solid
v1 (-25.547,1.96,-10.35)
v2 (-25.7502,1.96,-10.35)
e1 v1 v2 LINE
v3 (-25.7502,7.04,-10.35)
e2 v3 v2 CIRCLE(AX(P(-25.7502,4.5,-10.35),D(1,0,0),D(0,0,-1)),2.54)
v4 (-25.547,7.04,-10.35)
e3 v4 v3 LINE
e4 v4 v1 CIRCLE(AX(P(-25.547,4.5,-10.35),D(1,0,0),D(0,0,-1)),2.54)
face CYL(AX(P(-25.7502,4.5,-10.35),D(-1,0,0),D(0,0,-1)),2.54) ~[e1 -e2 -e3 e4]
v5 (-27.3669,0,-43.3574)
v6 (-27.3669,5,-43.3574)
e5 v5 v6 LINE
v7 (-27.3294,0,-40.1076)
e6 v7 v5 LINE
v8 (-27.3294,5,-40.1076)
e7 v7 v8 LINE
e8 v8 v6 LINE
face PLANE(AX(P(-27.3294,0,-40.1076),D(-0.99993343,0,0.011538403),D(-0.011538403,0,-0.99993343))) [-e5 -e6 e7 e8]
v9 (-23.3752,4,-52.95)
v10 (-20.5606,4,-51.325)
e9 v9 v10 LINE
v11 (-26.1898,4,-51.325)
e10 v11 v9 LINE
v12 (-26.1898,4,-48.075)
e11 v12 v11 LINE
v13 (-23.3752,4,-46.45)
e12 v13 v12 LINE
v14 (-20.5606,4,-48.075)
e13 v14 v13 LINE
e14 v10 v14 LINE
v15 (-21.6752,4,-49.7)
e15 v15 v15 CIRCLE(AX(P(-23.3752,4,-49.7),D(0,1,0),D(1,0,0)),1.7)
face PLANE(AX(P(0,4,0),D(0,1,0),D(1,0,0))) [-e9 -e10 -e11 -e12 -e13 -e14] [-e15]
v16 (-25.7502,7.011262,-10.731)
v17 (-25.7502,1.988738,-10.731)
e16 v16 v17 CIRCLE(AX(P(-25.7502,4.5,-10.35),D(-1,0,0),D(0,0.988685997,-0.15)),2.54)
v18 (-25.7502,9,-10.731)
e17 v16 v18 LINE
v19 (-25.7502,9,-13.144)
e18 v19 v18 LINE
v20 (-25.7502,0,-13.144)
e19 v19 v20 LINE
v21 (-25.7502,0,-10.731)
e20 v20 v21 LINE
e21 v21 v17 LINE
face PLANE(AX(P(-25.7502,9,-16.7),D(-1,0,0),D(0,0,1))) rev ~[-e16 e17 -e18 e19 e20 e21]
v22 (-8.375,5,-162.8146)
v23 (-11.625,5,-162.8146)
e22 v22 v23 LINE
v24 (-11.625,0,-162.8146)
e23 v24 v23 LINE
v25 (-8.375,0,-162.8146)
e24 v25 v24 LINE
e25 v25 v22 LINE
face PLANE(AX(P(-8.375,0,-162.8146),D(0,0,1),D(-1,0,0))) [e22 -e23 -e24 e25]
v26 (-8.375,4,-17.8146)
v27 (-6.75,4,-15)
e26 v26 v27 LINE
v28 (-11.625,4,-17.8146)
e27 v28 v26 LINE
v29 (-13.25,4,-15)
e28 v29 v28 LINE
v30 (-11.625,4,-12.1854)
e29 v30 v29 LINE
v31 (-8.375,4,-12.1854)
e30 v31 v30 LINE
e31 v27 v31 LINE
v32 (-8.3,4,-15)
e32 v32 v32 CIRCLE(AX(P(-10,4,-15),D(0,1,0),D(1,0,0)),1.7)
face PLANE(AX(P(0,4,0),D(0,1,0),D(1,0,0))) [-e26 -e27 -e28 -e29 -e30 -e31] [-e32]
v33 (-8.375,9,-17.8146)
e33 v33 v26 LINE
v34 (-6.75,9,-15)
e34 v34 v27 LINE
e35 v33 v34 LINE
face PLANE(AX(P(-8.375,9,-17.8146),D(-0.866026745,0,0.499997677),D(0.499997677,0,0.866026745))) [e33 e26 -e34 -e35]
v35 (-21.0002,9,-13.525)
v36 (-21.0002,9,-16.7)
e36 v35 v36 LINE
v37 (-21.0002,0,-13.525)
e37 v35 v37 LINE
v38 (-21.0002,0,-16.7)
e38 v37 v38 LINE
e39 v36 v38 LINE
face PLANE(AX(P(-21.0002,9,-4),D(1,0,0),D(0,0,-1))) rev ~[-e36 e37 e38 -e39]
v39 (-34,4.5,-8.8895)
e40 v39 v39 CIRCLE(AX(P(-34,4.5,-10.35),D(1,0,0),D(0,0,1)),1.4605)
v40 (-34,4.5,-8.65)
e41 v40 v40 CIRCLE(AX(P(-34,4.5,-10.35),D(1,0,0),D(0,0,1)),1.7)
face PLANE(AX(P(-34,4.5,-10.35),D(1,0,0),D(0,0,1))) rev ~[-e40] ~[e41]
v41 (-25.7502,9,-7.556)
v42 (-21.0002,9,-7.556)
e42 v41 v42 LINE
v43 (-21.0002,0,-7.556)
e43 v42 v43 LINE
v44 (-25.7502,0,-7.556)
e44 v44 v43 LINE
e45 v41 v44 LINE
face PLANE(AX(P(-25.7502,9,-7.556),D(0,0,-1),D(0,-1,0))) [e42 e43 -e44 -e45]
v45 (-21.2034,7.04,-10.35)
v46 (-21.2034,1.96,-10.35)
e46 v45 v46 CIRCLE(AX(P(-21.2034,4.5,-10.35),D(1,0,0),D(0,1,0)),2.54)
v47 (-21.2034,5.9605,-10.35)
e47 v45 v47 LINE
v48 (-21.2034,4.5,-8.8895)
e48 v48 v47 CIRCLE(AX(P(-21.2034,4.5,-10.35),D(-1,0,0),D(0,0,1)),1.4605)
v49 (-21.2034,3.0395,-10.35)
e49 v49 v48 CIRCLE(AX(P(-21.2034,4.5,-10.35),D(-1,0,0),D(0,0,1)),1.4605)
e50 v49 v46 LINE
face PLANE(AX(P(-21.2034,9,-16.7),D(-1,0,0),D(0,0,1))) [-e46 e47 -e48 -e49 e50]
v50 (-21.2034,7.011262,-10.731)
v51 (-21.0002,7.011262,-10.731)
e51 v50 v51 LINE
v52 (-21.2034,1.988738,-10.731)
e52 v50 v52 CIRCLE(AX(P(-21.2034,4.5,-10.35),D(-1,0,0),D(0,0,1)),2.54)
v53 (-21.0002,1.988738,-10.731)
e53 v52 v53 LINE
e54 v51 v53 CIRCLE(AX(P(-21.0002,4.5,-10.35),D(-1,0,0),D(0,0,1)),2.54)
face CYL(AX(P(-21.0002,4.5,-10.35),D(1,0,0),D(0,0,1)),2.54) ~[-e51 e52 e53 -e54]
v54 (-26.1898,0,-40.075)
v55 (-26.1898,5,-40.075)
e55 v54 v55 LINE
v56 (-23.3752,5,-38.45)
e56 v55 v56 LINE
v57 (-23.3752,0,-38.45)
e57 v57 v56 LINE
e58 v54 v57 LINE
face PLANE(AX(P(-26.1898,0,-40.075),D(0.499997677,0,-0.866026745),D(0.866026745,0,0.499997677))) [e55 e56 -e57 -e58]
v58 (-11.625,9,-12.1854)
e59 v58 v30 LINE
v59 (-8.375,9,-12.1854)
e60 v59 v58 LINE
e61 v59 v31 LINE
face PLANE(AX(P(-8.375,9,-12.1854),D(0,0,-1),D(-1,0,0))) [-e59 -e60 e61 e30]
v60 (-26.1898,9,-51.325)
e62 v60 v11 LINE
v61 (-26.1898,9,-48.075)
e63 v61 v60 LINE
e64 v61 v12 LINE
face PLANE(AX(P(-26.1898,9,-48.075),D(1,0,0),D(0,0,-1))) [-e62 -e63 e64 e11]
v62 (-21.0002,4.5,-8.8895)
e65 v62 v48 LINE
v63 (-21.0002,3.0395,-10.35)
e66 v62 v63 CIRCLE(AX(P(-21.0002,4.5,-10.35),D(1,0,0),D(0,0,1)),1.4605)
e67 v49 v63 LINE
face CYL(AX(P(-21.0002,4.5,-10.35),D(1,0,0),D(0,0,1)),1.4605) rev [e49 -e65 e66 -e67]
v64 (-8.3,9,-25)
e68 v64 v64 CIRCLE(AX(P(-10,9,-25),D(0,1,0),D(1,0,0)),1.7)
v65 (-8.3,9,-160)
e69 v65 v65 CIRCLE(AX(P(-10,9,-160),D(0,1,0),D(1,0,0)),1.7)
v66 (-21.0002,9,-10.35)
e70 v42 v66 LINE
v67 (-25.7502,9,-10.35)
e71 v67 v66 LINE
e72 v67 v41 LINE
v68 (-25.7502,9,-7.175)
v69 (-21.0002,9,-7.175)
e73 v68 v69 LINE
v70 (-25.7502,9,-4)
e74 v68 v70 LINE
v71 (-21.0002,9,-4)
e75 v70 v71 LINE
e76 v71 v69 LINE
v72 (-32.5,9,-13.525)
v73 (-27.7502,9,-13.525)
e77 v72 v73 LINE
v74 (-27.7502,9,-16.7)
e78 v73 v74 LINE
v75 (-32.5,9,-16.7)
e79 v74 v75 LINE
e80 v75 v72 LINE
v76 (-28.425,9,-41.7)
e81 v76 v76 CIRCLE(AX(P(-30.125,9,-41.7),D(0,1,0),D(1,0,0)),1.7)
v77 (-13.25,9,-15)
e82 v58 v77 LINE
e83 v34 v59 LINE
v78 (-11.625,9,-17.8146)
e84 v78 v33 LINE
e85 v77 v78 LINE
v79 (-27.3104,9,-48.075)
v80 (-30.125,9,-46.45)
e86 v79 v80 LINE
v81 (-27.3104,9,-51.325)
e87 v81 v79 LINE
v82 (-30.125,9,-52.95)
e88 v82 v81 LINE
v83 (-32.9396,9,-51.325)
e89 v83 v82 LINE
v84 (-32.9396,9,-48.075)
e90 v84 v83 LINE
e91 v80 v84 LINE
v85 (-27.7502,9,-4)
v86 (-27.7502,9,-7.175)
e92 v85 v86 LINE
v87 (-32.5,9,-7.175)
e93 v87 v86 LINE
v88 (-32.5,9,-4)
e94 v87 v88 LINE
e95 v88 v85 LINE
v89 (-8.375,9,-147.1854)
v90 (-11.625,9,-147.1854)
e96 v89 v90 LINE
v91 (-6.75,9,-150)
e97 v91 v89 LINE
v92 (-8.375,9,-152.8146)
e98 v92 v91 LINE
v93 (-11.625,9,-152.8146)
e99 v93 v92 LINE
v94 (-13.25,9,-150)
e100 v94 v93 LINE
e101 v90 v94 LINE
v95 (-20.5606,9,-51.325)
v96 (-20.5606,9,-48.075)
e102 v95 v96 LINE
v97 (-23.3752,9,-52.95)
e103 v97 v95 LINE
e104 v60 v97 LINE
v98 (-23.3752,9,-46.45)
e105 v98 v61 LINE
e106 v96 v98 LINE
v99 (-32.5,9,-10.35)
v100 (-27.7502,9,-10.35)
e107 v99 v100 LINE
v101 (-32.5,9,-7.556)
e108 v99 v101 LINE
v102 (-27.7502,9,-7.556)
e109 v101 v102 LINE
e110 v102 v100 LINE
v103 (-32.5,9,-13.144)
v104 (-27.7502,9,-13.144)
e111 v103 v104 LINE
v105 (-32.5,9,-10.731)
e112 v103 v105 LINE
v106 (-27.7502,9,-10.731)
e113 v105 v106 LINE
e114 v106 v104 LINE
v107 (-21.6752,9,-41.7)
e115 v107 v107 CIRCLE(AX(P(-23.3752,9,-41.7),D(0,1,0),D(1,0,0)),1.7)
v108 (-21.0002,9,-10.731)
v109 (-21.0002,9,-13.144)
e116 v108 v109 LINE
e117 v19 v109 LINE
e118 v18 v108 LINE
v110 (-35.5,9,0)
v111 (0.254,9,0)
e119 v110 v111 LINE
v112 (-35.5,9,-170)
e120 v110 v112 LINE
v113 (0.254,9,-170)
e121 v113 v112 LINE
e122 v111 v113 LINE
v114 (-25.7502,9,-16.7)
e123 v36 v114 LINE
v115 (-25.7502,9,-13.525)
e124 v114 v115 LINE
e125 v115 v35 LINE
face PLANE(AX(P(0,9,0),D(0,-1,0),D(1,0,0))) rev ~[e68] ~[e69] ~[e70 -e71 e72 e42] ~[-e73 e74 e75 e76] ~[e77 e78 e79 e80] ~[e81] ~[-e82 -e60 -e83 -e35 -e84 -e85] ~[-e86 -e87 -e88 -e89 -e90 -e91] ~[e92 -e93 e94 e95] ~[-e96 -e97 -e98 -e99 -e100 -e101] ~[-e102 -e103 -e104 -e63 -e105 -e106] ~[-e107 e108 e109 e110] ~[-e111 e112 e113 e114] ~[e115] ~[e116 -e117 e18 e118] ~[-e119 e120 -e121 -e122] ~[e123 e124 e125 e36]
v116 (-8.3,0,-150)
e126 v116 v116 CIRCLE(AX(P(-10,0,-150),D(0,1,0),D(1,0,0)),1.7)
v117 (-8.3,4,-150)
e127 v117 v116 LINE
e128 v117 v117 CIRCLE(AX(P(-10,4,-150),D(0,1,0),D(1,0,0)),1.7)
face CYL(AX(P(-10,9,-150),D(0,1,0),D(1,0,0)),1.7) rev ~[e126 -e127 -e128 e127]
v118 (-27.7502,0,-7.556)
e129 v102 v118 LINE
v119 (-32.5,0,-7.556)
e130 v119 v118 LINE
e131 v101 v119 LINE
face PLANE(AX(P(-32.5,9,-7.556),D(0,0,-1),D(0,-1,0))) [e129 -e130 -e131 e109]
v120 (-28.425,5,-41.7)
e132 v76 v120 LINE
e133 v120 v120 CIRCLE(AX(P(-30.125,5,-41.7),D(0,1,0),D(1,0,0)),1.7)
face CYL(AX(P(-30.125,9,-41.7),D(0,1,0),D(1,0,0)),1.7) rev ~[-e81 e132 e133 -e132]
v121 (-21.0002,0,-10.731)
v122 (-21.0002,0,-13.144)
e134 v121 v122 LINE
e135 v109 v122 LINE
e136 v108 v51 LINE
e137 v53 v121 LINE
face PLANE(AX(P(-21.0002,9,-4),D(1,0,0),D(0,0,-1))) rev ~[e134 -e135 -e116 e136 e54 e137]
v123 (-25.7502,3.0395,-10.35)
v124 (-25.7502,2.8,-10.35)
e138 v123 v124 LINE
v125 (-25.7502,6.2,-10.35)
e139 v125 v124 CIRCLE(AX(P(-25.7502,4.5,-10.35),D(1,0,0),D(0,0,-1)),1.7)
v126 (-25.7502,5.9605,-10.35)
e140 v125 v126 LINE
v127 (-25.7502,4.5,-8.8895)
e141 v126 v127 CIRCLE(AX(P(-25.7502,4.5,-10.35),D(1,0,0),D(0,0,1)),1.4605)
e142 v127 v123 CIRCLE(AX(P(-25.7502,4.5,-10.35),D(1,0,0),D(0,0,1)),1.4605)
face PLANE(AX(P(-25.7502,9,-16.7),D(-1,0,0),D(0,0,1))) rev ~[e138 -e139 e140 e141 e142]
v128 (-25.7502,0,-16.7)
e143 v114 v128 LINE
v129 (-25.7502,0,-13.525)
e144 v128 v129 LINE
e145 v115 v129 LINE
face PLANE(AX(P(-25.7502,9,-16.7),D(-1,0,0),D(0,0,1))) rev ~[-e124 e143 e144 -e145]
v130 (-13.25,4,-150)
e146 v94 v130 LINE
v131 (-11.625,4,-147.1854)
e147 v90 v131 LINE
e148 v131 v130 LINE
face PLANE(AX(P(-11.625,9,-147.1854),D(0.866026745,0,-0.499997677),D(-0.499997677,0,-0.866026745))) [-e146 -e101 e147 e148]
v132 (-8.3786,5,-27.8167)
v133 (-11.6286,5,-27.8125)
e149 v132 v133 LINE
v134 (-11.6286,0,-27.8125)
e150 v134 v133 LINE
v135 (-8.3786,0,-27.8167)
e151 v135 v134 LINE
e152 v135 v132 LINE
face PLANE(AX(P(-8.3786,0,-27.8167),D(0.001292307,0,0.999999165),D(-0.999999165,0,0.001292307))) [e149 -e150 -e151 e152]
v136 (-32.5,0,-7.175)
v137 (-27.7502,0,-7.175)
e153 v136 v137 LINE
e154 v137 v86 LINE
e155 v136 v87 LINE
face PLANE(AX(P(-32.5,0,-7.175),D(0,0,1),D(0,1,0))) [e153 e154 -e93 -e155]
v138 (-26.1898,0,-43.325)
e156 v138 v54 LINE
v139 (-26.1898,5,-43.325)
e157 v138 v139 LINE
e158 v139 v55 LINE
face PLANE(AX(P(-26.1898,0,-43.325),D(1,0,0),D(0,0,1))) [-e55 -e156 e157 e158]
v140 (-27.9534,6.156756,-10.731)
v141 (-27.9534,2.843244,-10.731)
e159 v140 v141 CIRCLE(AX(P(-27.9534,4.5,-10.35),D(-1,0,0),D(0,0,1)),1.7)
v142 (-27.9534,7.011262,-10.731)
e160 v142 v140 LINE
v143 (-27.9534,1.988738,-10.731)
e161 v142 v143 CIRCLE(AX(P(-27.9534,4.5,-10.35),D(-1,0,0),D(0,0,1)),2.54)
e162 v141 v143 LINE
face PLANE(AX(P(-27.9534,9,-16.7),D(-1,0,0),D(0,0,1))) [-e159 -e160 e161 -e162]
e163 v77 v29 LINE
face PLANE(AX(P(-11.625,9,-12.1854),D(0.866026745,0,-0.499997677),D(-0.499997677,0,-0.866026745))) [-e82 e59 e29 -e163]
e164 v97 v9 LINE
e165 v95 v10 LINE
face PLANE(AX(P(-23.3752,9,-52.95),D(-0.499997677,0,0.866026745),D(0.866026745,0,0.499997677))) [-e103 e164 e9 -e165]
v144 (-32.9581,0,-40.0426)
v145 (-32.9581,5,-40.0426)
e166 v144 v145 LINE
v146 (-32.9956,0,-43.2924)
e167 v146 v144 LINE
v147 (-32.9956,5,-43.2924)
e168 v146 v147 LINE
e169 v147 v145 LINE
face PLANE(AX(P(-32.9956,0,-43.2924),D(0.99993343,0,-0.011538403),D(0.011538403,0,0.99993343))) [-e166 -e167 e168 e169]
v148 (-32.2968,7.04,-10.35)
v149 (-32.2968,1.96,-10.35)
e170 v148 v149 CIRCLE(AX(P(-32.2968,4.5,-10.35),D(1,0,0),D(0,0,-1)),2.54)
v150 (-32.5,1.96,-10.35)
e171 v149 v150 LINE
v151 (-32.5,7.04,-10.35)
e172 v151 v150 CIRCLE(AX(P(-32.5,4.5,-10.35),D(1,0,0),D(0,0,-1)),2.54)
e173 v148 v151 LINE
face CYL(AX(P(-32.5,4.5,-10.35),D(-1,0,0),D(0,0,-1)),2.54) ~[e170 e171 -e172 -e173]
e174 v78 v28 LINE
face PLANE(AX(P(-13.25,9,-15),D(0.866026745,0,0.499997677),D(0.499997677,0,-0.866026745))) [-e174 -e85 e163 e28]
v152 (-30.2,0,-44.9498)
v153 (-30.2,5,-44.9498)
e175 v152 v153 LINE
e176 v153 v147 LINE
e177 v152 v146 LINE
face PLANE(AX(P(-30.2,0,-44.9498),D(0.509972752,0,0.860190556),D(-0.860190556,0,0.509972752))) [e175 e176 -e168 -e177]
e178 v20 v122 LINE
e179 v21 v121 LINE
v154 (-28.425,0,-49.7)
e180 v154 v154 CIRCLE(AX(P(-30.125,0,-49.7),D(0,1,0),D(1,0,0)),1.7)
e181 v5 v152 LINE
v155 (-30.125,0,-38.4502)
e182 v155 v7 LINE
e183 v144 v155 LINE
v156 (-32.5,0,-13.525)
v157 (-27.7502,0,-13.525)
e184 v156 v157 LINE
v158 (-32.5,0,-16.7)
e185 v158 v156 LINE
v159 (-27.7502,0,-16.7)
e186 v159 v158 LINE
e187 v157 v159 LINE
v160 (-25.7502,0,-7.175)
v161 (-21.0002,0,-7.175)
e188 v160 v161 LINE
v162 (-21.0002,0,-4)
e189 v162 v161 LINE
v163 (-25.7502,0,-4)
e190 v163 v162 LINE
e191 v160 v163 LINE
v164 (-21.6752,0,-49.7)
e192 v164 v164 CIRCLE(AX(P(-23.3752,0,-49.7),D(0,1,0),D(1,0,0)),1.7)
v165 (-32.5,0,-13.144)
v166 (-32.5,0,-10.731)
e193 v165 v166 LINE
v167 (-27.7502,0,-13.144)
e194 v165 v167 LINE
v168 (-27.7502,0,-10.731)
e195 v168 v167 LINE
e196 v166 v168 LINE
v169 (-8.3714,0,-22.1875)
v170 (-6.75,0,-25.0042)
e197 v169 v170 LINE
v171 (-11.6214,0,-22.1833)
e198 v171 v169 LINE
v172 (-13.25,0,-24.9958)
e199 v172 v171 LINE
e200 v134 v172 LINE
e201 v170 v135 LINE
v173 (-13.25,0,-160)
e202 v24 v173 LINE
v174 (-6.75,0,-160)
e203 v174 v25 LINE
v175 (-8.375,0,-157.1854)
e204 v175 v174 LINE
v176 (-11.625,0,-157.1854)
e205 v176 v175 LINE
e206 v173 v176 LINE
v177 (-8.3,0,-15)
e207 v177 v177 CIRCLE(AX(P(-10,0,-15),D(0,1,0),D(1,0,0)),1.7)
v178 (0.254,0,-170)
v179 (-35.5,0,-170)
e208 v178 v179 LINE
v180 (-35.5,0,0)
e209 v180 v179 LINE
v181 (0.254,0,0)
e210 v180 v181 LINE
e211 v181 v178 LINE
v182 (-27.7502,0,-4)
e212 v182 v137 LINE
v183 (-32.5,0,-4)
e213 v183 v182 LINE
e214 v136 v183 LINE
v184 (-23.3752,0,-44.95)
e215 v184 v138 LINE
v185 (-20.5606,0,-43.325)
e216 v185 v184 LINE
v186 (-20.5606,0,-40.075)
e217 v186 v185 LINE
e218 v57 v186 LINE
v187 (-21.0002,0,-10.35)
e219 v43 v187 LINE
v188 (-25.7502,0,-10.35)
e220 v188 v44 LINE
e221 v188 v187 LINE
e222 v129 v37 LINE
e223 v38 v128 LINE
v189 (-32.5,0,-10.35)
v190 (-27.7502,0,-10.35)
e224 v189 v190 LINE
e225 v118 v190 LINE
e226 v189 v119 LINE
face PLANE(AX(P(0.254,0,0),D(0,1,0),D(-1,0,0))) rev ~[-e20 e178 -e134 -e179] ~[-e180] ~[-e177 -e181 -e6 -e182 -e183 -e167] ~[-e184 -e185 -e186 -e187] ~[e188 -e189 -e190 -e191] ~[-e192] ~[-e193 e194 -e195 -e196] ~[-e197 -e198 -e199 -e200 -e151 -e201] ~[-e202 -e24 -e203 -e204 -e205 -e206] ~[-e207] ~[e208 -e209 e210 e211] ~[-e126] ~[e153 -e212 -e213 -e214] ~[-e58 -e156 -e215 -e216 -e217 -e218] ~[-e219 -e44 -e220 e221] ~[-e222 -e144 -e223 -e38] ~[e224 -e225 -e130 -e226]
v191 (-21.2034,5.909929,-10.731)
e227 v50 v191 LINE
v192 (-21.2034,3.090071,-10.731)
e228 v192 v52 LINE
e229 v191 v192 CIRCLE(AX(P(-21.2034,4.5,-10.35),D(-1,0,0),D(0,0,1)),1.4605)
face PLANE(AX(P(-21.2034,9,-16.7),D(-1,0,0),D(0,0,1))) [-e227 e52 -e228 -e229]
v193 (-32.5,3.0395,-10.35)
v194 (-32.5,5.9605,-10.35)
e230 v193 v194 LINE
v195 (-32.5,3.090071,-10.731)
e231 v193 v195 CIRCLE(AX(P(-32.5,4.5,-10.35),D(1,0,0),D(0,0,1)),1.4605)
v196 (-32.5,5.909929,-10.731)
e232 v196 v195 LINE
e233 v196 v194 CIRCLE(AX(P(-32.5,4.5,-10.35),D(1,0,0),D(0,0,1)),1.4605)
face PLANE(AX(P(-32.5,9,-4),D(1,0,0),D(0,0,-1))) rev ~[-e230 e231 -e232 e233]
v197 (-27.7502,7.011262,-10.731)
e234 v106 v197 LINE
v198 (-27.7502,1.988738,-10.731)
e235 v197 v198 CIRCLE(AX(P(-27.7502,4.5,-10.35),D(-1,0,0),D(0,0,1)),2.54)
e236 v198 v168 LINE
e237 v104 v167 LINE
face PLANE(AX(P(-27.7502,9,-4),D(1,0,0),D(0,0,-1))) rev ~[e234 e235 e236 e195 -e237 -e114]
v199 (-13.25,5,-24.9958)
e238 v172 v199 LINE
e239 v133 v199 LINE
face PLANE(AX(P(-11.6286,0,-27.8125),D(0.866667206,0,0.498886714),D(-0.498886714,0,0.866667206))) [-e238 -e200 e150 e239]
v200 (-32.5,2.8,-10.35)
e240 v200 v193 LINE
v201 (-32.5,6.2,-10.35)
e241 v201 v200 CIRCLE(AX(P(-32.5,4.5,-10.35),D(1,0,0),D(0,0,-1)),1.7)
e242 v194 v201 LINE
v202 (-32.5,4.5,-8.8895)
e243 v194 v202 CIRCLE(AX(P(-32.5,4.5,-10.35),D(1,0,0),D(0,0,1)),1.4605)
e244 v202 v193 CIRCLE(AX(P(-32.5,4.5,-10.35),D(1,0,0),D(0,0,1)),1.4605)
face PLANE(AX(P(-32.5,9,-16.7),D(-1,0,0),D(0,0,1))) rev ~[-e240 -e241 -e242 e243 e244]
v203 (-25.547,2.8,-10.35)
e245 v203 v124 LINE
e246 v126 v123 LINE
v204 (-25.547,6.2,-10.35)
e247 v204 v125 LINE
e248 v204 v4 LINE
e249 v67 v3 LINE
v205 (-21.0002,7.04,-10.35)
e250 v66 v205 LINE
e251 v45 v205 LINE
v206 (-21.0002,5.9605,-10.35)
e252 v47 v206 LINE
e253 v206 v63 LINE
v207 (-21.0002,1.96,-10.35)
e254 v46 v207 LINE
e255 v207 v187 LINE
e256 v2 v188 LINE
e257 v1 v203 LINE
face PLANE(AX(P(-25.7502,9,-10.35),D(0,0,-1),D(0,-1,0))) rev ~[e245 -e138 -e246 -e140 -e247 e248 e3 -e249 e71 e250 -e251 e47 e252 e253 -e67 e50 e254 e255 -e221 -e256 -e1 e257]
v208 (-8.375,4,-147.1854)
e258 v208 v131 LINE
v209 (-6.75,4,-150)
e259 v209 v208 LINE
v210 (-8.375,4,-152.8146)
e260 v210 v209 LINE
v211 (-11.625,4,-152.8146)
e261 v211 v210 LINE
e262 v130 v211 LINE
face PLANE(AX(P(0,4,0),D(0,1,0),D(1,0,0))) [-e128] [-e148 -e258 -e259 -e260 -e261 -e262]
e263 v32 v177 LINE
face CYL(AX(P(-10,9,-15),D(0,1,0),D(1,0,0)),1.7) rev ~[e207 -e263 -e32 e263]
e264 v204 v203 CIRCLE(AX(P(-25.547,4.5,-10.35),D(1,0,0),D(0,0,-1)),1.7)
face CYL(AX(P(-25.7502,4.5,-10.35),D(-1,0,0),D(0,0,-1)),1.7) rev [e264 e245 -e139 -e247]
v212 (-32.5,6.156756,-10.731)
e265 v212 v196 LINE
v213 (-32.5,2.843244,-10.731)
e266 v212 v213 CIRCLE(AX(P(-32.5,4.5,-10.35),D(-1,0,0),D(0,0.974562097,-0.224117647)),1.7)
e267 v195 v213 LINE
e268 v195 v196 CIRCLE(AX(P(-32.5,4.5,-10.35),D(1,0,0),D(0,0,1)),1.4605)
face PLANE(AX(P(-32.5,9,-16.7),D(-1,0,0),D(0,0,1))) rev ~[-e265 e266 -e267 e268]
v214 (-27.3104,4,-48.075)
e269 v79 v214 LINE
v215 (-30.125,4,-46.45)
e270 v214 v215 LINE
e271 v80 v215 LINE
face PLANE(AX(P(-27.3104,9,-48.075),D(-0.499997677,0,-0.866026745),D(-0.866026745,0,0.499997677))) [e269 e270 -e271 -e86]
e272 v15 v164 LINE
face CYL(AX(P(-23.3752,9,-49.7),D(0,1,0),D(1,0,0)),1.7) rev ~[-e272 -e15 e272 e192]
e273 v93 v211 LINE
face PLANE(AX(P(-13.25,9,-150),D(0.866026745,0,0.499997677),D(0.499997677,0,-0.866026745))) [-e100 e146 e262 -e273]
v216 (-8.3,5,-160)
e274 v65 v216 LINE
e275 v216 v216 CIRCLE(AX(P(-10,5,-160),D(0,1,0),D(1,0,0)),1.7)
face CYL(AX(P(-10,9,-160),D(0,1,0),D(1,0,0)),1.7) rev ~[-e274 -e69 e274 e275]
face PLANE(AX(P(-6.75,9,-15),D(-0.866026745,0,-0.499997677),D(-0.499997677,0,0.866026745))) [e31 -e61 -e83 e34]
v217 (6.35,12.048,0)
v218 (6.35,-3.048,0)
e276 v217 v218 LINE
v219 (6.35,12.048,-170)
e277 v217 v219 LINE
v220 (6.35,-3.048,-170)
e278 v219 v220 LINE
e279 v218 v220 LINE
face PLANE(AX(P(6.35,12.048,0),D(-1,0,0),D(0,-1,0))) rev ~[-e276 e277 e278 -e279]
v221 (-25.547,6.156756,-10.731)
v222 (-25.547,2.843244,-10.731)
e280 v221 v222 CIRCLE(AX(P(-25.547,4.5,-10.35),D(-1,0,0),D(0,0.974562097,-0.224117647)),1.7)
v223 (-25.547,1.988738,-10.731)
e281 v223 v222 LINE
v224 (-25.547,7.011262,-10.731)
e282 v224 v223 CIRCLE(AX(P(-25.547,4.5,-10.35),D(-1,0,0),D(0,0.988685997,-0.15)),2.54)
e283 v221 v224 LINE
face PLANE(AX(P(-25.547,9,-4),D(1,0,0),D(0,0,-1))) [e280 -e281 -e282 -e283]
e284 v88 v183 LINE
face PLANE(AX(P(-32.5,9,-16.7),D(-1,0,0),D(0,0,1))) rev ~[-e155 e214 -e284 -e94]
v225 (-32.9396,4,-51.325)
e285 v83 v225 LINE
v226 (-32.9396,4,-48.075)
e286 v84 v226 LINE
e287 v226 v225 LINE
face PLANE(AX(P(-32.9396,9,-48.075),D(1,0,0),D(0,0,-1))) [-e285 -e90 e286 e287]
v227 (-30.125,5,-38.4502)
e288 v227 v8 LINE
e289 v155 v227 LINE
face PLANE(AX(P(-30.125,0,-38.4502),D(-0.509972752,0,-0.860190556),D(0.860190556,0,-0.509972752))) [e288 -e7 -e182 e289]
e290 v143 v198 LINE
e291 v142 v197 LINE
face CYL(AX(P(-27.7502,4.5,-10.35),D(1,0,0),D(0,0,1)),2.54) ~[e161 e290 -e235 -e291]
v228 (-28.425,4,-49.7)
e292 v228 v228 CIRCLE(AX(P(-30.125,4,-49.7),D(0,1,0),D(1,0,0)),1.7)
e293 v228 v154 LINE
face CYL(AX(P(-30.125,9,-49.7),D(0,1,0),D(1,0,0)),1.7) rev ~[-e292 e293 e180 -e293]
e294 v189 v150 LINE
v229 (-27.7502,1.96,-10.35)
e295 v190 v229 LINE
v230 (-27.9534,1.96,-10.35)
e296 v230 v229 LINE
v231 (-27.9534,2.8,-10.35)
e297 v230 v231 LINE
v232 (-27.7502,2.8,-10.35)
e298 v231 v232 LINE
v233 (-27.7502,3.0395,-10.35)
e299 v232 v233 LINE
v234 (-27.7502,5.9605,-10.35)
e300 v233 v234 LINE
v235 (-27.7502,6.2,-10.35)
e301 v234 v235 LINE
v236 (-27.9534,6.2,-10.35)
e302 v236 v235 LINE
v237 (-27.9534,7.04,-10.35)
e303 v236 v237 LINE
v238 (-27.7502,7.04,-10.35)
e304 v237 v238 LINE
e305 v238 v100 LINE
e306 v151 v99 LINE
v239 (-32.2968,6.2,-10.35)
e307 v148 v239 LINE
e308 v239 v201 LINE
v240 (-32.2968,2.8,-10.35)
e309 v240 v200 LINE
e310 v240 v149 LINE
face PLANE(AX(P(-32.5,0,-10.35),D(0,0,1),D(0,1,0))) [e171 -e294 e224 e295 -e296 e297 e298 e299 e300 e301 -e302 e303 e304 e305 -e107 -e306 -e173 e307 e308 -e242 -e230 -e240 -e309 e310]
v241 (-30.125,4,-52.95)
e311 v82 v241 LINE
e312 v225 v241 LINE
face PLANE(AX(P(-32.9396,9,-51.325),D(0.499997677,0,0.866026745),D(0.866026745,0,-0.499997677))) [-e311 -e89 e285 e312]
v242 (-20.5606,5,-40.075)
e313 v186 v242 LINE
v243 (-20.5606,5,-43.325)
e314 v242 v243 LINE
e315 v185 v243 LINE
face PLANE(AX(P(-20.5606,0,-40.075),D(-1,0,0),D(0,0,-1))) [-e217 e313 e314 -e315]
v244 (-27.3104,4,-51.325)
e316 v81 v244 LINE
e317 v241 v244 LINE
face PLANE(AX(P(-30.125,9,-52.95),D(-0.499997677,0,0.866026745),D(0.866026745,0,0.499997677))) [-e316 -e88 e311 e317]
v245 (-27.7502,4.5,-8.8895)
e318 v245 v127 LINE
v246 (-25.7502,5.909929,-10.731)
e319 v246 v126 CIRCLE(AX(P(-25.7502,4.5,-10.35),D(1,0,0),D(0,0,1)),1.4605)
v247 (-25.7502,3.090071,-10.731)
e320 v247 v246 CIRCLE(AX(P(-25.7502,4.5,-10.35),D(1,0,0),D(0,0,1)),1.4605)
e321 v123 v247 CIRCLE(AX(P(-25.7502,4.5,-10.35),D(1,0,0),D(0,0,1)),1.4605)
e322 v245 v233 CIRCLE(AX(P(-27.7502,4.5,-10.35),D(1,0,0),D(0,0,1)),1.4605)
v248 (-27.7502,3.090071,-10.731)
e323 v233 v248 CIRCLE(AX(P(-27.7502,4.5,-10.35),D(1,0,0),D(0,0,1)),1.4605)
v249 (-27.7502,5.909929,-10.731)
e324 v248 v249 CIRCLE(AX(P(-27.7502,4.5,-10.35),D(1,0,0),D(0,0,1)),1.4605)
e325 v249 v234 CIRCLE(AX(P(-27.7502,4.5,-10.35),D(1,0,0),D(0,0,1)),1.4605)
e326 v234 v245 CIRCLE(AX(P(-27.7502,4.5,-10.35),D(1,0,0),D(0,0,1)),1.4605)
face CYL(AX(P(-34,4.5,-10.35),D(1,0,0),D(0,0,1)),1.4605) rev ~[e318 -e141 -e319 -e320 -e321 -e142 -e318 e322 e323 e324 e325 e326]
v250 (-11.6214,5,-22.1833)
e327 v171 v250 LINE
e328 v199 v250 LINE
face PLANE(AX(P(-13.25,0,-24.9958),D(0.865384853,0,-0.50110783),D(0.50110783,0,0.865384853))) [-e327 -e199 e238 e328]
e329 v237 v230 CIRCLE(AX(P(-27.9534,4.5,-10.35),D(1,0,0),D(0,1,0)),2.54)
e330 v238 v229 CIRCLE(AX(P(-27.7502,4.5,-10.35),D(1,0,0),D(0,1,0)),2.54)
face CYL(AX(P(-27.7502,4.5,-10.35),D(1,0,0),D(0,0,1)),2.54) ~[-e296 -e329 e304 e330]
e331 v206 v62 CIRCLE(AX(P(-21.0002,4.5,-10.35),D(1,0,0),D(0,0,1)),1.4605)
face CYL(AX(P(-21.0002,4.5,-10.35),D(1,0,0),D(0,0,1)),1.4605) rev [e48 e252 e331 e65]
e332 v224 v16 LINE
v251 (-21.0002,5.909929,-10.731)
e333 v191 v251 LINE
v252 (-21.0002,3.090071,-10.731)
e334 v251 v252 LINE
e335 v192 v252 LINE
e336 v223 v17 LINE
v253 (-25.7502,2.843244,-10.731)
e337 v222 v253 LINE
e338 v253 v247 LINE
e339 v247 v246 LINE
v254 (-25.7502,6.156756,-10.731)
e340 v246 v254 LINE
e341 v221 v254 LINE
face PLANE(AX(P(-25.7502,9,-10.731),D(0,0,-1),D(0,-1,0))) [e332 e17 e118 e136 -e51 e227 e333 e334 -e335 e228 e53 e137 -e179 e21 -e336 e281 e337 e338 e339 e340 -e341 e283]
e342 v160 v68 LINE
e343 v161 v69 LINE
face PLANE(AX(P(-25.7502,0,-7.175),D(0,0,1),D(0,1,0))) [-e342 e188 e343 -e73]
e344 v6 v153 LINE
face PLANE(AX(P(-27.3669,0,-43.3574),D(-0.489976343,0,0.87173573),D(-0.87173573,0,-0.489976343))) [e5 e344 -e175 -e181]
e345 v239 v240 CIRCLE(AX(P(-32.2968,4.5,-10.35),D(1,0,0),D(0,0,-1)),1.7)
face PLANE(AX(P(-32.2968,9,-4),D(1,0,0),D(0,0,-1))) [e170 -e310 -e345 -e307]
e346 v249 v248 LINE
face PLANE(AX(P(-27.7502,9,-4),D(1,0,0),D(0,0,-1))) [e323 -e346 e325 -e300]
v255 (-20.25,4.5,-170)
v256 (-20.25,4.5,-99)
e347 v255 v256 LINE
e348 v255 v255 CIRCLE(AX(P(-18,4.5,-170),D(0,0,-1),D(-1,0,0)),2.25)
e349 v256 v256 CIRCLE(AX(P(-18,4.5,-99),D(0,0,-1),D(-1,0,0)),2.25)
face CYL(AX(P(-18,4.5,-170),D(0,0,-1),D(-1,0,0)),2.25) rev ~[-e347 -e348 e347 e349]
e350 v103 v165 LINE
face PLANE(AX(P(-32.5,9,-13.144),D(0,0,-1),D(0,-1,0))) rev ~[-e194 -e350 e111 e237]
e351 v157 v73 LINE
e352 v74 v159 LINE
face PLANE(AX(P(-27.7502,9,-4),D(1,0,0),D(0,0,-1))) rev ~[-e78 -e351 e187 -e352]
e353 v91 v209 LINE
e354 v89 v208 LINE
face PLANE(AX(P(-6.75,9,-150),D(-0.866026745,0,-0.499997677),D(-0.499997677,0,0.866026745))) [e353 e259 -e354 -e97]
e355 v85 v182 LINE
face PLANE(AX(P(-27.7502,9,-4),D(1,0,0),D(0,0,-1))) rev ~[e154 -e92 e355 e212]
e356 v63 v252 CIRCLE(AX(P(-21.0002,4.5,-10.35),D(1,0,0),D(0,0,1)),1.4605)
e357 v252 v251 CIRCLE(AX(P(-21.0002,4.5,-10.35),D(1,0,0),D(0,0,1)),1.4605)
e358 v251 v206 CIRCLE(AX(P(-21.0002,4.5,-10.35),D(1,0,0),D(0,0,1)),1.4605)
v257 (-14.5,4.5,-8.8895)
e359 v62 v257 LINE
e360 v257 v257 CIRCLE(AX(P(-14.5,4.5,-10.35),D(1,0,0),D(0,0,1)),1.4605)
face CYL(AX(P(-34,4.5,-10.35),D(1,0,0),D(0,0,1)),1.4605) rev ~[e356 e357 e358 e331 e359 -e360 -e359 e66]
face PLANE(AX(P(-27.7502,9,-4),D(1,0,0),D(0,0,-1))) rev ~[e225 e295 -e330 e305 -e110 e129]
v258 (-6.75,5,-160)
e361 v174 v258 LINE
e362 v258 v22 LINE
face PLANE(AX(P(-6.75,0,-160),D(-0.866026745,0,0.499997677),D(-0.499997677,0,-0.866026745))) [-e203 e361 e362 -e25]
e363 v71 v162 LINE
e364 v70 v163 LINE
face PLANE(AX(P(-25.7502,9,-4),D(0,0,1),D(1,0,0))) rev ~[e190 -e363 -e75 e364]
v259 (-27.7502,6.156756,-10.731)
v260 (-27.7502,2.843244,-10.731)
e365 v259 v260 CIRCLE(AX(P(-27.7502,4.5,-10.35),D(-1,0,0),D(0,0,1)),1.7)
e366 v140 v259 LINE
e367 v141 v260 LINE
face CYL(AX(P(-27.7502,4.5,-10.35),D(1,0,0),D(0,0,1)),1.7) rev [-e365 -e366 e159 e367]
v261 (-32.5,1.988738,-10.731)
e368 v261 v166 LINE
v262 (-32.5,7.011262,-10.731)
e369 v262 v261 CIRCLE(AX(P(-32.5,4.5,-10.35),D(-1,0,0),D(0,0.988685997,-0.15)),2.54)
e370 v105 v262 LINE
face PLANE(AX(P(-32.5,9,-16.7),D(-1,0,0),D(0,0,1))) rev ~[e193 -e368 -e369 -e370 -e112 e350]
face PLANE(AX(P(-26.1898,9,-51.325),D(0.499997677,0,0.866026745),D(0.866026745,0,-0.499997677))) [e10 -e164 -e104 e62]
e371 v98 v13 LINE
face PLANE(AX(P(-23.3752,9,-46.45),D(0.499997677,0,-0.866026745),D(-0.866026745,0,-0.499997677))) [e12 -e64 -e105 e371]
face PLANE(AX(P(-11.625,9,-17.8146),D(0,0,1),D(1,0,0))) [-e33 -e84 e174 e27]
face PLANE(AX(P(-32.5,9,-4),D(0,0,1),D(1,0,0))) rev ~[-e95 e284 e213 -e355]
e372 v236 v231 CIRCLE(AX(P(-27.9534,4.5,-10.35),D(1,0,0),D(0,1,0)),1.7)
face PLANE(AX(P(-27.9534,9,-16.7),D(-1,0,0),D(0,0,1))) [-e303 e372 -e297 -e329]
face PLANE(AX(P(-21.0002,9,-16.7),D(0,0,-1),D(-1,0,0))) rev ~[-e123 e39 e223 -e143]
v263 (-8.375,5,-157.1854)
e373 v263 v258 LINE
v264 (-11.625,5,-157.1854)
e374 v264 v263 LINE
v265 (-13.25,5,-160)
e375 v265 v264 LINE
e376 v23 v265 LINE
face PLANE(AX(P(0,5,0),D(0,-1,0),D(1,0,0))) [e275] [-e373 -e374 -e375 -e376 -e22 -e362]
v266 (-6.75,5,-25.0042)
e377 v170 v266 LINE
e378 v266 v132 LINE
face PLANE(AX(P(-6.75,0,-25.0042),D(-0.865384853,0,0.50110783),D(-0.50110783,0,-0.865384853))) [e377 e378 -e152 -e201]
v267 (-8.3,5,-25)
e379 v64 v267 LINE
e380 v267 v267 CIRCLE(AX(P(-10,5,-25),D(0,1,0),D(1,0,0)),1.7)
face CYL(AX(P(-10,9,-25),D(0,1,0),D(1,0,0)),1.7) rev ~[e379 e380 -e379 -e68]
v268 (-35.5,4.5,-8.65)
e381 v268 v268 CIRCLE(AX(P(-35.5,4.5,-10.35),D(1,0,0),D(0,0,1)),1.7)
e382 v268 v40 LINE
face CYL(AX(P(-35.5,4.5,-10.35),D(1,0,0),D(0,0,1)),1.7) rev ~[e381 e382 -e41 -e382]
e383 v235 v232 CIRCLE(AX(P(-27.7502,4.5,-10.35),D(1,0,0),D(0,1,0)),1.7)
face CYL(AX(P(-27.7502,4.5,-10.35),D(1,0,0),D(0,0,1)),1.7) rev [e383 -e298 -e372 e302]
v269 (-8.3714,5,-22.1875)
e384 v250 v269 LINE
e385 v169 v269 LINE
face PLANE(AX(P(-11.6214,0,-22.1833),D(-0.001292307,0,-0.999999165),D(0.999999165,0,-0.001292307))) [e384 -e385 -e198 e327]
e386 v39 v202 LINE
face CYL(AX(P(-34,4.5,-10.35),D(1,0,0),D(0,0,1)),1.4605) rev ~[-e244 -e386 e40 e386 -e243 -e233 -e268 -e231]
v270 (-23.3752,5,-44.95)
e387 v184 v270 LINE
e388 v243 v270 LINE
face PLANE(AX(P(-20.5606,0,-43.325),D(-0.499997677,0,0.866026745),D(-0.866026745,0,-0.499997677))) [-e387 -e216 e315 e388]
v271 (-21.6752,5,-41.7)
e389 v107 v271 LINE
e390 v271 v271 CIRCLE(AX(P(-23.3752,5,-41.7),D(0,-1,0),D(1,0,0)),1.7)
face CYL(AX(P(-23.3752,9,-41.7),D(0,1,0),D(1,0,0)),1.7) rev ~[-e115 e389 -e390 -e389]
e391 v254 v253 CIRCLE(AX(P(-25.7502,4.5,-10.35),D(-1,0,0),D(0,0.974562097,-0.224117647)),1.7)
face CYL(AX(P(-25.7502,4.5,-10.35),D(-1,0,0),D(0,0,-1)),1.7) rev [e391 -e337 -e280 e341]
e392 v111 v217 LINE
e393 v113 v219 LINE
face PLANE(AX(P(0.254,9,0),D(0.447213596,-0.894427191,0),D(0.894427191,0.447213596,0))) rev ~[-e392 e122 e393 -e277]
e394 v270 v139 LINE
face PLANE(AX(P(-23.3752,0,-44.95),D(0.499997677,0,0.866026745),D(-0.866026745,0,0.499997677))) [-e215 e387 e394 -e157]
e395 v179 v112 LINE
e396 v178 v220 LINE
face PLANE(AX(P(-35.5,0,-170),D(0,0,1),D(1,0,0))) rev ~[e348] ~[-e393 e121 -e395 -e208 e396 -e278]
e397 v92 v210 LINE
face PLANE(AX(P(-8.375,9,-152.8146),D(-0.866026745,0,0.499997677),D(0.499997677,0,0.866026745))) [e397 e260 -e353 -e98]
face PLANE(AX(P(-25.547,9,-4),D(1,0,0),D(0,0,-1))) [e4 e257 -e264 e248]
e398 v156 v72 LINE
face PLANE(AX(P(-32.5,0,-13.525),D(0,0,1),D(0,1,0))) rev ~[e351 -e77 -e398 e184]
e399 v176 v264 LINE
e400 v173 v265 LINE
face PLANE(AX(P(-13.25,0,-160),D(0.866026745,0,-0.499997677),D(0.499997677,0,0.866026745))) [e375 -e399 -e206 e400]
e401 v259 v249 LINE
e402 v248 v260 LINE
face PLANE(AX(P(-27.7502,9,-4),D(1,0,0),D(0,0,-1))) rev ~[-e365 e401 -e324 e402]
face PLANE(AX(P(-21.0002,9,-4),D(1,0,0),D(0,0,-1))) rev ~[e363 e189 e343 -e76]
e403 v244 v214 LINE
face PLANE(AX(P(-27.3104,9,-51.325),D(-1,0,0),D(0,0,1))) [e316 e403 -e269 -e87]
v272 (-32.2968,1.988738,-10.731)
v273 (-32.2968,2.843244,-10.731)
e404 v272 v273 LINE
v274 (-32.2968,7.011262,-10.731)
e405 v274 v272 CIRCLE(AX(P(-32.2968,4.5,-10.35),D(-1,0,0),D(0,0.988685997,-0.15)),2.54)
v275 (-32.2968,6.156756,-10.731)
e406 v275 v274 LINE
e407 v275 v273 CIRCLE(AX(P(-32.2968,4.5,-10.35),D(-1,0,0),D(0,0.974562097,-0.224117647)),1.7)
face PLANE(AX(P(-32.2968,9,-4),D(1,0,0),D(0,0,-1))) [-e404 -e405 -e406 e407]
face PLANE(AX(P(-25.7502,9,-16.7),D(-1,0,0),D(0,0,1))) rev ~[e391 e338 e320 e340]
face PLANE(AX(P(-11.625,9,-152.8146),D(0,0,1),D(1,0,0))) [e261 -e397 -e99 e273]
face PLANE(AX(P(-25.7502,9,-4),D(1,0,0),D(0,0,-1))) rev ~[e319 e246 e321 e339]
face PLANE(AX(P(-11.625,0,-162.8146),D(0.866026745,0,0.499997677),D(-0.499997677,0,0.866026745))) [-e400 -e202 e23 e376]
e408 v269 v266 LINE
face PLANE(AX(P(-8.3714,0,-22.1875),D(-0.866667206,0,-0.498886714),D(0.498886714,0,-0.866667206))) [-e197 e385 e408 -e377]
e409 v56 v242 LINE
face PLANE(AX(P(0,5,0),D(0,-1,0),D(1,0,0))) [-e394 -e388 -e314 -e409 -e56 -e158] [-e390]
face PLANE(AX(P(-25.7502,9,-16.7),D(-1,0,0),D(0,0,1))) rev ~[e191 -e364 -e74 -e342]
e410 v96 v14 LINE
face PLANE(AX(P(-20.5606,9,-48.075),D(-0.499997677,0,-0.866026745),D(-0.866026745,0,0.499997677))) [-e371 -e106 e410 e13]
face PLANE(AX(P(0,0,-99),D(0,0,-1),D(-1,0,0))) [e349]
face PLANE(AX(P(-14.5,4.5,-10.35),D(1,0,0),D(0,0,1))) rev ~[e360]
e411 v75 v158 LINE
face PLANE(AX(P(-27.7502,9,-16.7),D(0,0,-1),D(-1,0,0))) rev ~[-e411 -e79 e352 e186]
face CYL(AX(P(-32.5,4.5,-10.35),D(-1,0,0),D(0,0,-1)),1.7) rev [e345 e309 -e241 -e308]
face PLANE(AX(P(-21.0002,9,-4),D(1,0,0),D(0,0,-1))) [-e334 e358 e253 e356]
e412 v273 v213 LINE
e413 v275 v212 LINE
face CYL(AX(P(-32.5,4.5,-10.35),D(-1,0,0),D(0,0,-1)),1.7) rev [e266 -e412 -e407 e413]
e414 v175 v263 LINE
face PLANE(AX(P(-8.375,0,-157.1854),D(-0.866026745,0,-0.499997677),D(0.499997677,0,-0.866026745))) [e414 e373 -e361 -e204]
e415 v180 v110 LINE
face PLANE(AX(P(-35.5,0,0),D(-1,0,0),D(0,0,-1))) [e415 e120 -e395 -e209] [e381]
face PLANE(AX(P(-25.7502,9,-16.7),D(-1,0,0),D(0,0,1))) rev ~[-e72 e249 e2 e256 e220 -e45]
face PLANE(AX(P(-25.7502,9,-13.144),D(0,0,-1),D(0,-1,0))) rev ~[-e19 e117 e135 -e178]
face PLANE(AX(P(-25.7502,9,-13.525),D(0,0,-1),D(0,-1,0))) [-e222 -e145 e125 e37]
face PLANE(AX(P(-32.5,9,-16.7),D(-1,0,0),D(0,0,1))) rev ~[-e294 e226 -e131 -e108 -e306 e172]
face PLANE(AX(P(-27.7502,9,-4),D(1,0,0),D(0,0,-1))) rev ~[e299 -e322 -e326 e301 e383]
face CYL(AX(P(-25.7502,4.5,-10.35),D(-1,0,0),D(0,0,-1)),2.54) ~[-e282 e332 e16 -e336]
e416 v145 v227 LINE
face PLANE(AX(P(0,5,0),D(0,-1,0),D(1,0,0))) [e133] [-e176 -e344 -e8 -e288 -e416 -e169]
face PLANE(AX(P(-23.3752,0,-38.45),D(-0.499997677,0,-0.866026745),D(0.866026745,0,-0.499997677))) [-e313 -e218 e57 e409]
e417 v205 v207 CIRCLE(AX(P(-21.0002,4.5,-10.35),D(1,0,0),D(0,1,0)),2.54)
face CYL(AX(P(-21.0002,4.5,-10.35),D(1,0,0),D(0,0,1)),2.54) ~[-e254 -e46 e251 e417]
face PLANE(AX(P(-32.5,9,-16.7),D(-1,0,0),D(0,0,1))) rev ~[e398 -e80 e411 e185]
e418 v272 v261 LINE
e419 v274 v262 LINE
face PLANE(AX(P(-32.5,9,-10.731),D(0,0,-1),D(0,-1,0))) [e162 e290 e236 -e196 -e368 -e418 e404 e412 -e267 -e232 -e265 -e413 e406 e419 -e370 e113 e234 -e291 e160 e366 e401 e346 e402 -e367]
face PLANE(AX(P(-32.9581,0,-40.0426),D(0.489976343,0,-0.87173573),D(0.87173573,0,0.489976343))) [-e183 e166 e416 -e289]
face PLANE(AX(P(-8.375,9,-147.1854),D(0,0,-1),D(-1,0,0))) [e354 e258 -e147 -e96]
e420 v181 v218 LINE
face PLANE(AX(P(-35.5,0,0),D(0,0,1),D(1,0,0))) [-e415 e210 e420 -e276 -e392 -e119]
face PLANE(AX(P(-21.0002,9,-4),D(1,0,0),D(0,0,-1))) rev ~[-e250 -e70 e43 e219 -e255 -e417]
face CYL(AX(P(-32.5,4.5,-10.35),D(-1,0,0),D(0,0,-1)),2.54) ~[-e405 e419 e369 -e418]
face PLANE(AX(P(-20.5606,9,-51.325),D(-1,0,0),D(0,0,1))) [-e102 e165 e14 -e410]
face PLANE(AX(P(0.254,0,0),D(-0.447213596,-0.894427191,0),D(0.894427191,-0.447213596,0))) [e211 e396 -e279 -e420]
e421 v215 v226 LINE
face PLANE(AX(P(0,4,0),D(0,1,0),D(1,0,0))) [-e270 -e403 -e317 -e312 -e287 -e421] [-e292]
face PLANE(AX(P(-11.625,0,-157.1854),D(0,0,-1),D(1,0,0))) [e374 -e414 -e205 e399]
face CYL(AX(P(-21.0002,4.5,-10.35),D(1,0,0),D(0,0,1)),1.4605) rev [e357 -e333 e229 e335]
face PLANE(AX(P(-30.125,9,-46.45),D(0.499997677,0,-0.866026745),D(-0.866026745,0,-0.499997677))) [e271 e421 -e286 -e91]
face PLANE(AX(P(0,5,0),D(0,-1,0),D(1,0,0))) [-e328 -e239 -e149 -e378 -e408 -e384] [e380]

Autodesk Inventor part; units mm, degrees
ref_plane "YZ Plane" through (0, 0, 0) normal (1, 0, 0) x (0, 1, 0)
sketch "Sketch1" plane through (0, 0, 0) normal (0, 1, 0) x (-1, 0, 0)
  line L0 (0, 0) -> (35.5, 0)
  line L1 (35.5, 0) -> (35.5, -170)
  line L2 (35.5, -170) -> (0, -170)
  line L3 (0, -170) -> (0, 0)
  dimension "d0" = 35.5
  dimension "d1" = 170
extrude "Extrusion1" add sketch "Sketch1" along normal blind 9
sketch "Sketch2" plane through (0, 9, 0) normal (0, 1, 0) x (1, 0, 0)
  circle A0 centre (-10, 15) radius 3.25 construction
  line L0 (-35.5, 0) -> (0, 0) projected
  line L1 (0, 0) -> (0, 170) projected
  line L2 (-13.25, 15) -> (-11.625, 17.8146)
  line L3 (-11.625, 17.8146) -> (-8.375, 17.8146)
  line L4 (-8.375, 17.8146) -> (-6.75, 15)
  line L5 (-6.75, 15) -> (-8.375, 12.1854)
  line L6 (-8.375, 12.1854) -> (-11.625, 12.1854)
  line L7 (-11.625, 12.1854) -> (-13.25, 15)
  circle A1 centre (-10, 150) radius 3.25 construction
  line L8 (-13.25, 150) -> (-11.625, 152.8146)
  line L9 (-11.625, 152.8146) -> (-8.375, 152.8146)
  line L10 (-8.375, 152.8146) -> (-6.75, 150)
  line L11 (-6.75, 150) -> (-8.375, 147.1854)
  line L12 (-8.375, 147.1854) -> (-11.625, 147.1854)
  line L13 (-11.625, 147.1854) -> (-13.25, 150)
  line L14 (0, 170) -> (-35.5, 170) projected
  circle A2 centre (-10, 15) radius 1.7 construction
  circle A3 centre (-10, 150) radius 1.7 construction
  dimension "d7" = 6.5
  dimension "d10" = 6.5
  dimension "d23" = 135
  dimension "d24" = 15
  dimension "d25" = 10
  dimension "d28" = 3.4
  dimension "d29" = 3.4
extrude "Extrusion2" cut sketch "Sketch2" against normal blind 5
sketch "Sketch3" plane through (0, 0, 0) normal (0, -1, 0) x (1, 0, 0)
  circle A0 centre (-10, -25) radius 3.25 construction
  line L0 (0, 0) -> (-35.5, 0) projected
  line L1 (-35.5, 0) -> (-35.5, -170) projected
  line L2 (-11.6286, -27.8125) -> (-13.25, -24.9958)
  line L3 (-13.25, -24.9958) -> (-11.6214, -22.1833)
  line L4 (-11.6214, -22.1833) -> (-8.3714, -22.1875)
  line L5 (-8.3714, -22.1875) -> (-6.75, -25.0042)
  line L6 (-6.75, -25.0042) -> (-8.3786, -27.8167)
  line L7 (-8.3786, -27.8167) -> (-11.6286, -27.8125)
  circle A1 centre (-10, -160) radius 3.25 construction
  line L8 (-6.75, -160) -> (-8.375, -162.8146)
  line L9 (-8.375, -162.8146) -> (-11.625, -162.8146)
  line L10 (-11.625, -162.8146) -> (-13.25, -160)
  line L11 (-13.25, -160) -> (-11.625, -157.1854)
  line L12 (-11.625, -157.1854) -> (-8.375, -157.1854)
  line L13 (-8.375, -157.1854) -> (-6.75, -160)
  line L14 (0, -170) -> (0, 0) projected
  dimension "d15" = 6.5
  dimension "d18" = 6.5
  dimension "d16" = 25
  dimension "d19" = 135
  dimension "d26" = 10
  dimension "d27" = 10
extrude "Extrusion3" cut sketch "Sketch3" against normal blind 5
sketch "Sketch5" plane through (0, 9, 0) normal (0, 1, 0) x (1, 0, 0)
  circle A0 centre (-10, 15) radius 1.7
  line L0 (0, 0) -> (0, 170) projected
  line L1 (-35.5, 0) -> (0, 0) projected
  circle A1 centre (-10, 150) radius 1.7
  circle A2 centre (-10, 25) radius 1.7
  circle A3 centre (-10, 160) radius 1.7
  dimension "d30" = 3.4
  dimension "d31" = 10
  dimension "d32" = 15
  dimension "d33" = 3.4
  dimension "d34" = 10
  dimension "d35" = 135
  dimension "d36" = 3.4
  dimension "d37" = 25
  dimension "d38" = 3.4
  dimension "d39" = 10
  dimension "d40" = 135
extrude "Extrusion4" cut sketch "Sketch5" against normal through all
sketch "Sketch6" plane through (0, 9, 0) normal (0, 1, 0) x (1, 0, 0)
  line L0 (-32.5, 4) -> (-27.7502, 4)
  line L1 (-27.7502, 4) -> (-27.7502, 16.7)
  line L2 (-27.7502, 16.7) -> (-32.5, 16.7)
  line L3 (-32.5, 16.7) -> (-32.5, 4)
  line L4 (-35.5, 0) -> (0, 0) projected
  line L5 (-35.5, 170) -> (-35.5, 0) projected
  line L6 (-25.7502, 4) -> (-21.0002, 4)
  line L7 (-21.0002, 4) -> (-21.0002, 16.7)
  line L8 (-21.0002, 16.7) -> (-25.7502, 16.7)
  line L9 (-25.7502, 16.7) -> (-25.7502, 4)
  line L10 (0, 0) -> (0, 170) construction
  line L11 (-35.5, 170) -> (0, 170) projected
  line L12 (0, 0) -> (-20, 0) construction
  line L13 (-20, 0) -> (-20, 170) construction
  line L14 (-20, 170) -> (0, 170) construction
  line L15 (0, 170) -> (0, 0)
  circle A0 centre (-23.3752, 41.7) radius 1.7
  circle A1 centre (-30.125, 41.7) radius 1.7
  circle A2 centre (-30.125, 49.7) radius 1.7
  circle A3 centre (-23.3752, 49.7) radius 1.7
  dimension "d43" = 4.7498
  dimension "d44" = 12.7
  dimension "d45" = 4
  dimension "d46" = 3
  dimension "d47" = 4.75
  dimension "d48" = 2
  dimension "d49" = 20
  dimension "d50" = 3.4
  dimension "d51" = 25
  dimension "d87" = 3.4
  dimension "d88" = 5.375
  dimension "d90" = 3.4
  dimension "d91" = 8
  dimension "d92" = 3.4
extrude "Extrusion5" cut sketch "Sketch6" against normal through all contours L3 L2 L1 L0 | L9 L8 L7 L6 | A0 | A1 | A2 | A3
sketch "Sketch7" plane through (0, 0, 0) normal (0, -1, 0) x (1, 0, 0)
  circle A0 centre (-23.3752, -41.7) radius 1.7 projected
  circle A1 centre (-23.3752, -41.7) radius 3.25 construction
  line L0 (-23.3752, -38.45) -> (-20.5606, -40.075)
  line L1 (-20.5606, -40.075) -> (-20.5606, -43.325)
  line L2 (-20.5606, -43.325) -> (-23.3752, -44.95)
  line L3 (-23.3752, -44.95) -> (-26.1898, -43.325)
  line L4 (-26.1898, -43.325) -> (-26.1898, -40.075)
  line L5 (-26.1898, -40.075) -> (-23.3752, -38.45)
  circle A2 centre (-30.1625, -41.7) radius 3.25 construction
  line L6 (-30.125, -38.4502) -> (-27.3294, -40.1076)
  line L7 (-27.3294, -40.1076) -> (-27.3669, -43.3574)
  line L8 (-27.3669, -43.3574) -> (-30.2, -44.9498)
  line L9 (-30.2, -44.9498) -> (-32.9956, -43.2924)
  line L10 (-32.9956, -43.2924) -> (-32.9581, -40.0426)
  line L11 (-32.9581, -40.0426) -> (-30.125, -38.4502)
  point P0 (0, 0)
  dimension "d89" = 6.5
  dimension "d54" = 6.5
extrude "Extrusion6" cut sketch "Sketch7" against normal blind 5
sketch "Sketch8" plane through (-35.5, 0, -170) normal (-1, 0, 0) x (0, 0, 1)
  circle A0 centre (159.65, 4.5) radius 1.4605
  line L0 (0, 9) -> (170, 9) projected
  line L1 (170, 0) -> (170, 9) projected
  dimension "d57" = 2.921
  dimension "d58" = 4.5
  dimension "d59" = 10.35
hole "Hole1" at (-35.5, 4.5, -10.35) direction (1, 0, 0) diameter 2.921 depth 21 counterbore diameter 3.4 counterbore depth 1.5
sketch "Sketch9" plane through (-21.0002, 9, -16.7) normal (-1, 0, 0) x (0, 0, 1)
  circle A0 centre (6.35, -4.5) radius 1.4605 projected
  circle A1 centre (6.35, -4.5) radius 2.54
  point P0 (16.7, -9)
  dimension "d67" = 5.08
extrude "Extrusion7" add sketch "Sketch9" along normal blind 0.2032
sketch "Sketch10" plane through (-27.7502, 9, -16.7) normal (-1, 0, 0) x (0, 0, 1)
  circle A0 centre (6.35, -4.5) radius 1.7 projected
  circle A1 centre (6.35, -4.5) radius 2.54
  point P0 (16.7, -9)
  dimension "d70" = 5.08
extrude "Extrusion8" add sketch "Sketch10" along normal blind 0.2032
sketch "Sketch11" plane through (-25.7502, 9, -4) normal (1, 0, 0) x (0, 0, -1)
  circle A0 centre (6.35, -4.5) radius 1.7 projected
  circle A1 centre (6.35, -4.5) radius 2.54
  point P0 (-4, -9)
  dimension "d73" = 5.08
extrude "Extrusion9" add sketch "Sketch11" along normal blind 0.2032
sketch "Sketch12" plane through (-32.5, 9, -4) normal (1, 0, 0) x (0, 0, -1)
  circle A0 centre (6.35, -4.5) radius 1.7 projected
  circle A1 centre (6.35, -4.5) radius 2.54
  point P0 (-4, -9)
  dimension "d76" = 5.08
extrude "Extrusion10" add sketch "Sketch12" along normal blind 0.2032
sketch "Sketch14" plane through (0, 0, -170) normal (0, 0, -1) x (-1, 0, 0)
  circle A0 centre (18, 4.5) radius 2.25
  line L0 (35.5, 0) -> (0, 0) projected
  line L1 (0, 0) -> (0, 9) projected
  dimension "d82" = 4.5
  dimension "d83" = 4.5
  dimension "d84" = 18
extrude "Extrusion11" cut sketch "Sketch14" against normal blind 71
sketch "Sketch15" plane through (0, 9, 0) normal (0, 1, 0) x (1, 0, 0)
  circle A0 centre (-30.125, 49.7) radius 1.7 projected
  circle A1 centre (-30.125, 49.7) radius 3.25 construction
  circle A2 centre (-23.3752, 49.7) radius 1.7 projected
  circle A3 centre (-23.3752, 49.7) radius 3.25 construction
  line L0 (-30.125, 46.45) -> (-32.9396, 48.075)
  line L1 (-32.9396, 48.075) -> (-32.9396, 51.325)
  line L2 (-32.9396, 51.325) -> (-30.125, 52.95)
  line L3 (-30.125, 52.95) -> (-27.3104, 51.325)
  line L4 (-27.3104, 51.325) -> (-27.3104, 48.075)
  line L5 (-27.3104, 48.075) -> (-30.125, 46.45)
  line L6 (-23.3752, 46.45) -> (-26.1898, 48.075)
  line L7 (-26.1898, 48.075) -> (-26.1898, 51.325)
  line L8 (-26.1898, 51.325) -> (-23.3752, 52.95)
  line L9 (-23.3752, 52.95) -> (-20.5606, 51.325)
  line L10 (-20.5606, 51.325) -> (-20.5606, 48.075)
  line L11 (-20.5606, 48.075) -> (-23.3752, 46.45)
  point P0 (0, 0)
  dimension "d93" = 6.5
  dimension "d94" = 6.5
extrude "Extrusion12" cut sketch "Sketch15" against normal blind 5
sketch "Sketch17" plane through (-35.5, 0, 0) normal (0, 0, 1) x (1, 0, 0)
  line L0 (0, 9) -> (35.5, 9) projected
  line L1 (35.5, 0) -> (35.5, 9) projected
  line L2 (35.5, 9) -> (35.754, 9)
  line L3 (35.754, 0) -> (35.5, 0)
  line L4 (35.5, 0) -> (35.5, 9)
  line L5 (41.85, 12.048) -> (41.85, -3.048)
  line L6 (35.754, 9) -> (41.85, 12.048)
  line L7 (35.754, 0) -> (41.85, -3.048)
  dimension "d100" = 0.254
  dimension "d107" = 3.048
  dimension "d109" = 3.048
  dimension "d110" = 15.096
  dimension "d111" = 0.254
extrude "SLiding Insert" add sketch "Sketch17" against normal up to surface (170 mm away)
sketch "Sketch18" plane through (-32.5, 9, -4) normal (1, 0, 0) x (0, 0, -1)
  line L0 (12.7, -9) -> (0, -9) construction
  line L1 (0, 0) -> (0, -9) construction
  line L2 (12.7, -9) -> (0, -9) construction
  line L3 (0, -9) -> (0, 0) construction
  line L4 (0, 0) -> (12.7, 0) construction
  line L5 (12.7, 0) -> (12.7, -9) construction
  line L6 (166, 0) -> (-4, 0) projected
  line L7 (-4, -9) -> (166, -9) projected
  line L8 (3.175, 0) -> (3.556, 0)
  line L9 (3.556, 0) -> (3.556, -9)
  line L10 (3.556, -9) -> (3.175, -9)
  line L11 (3.175, -9) -> (3.175, 0)
  line L12 (9.525, 0) -> (9.144, 0)
  line L13 (9.144, 0) -> (9.144, -9)
  line L14 (9.144, -9) -> (9.525, -9)
  line L15 (9.525, -9) -> (9.525, 0)
  line L16 (6.35, 0) -> (6.731, 0)
  line L17 (6.731, 0) -> (6.731, -9)
  line L18 (6.731, -9) -> (6.35, -9)
  line L19 (6.35, -9) -> (6.35, 0)
  point P0 (9.144, 0)
  point P1 (9.144, -9)
  point P2 (6.35, 0)
  point P3 (6.731, 0)
  dimension "d114" = 0.381
  dimension "d115" = 0.381
  dimension "d116" = 0.381
  dimension "d117" = 3.175
  dimension "d118" = 3.175
  dimension "d120" = 6.35
extrude "Supports 1" add sketch "Sketch18" along normal up to surface (4.7498 mm away) contours L15 L7 L13 L6 | L17 L7 L19 L6 | L9 L7 L11 L6
sketch "Sketch19" plane through (-25.7502, 9, -4) normal (1, 0, 0) x (0, 0, -1)
  line L0 (12.7, 0) -> (0, 0) construction
  line L1 (0, 0) -> (0, -9) construction
  line L2 (0, -9) -> (12.7, -9) construction
  line L3 (12.7, -9) -> (12.7, 0) construction
  line L4 (6.731, 0) -> (6.731, -1.9887) projected
  line L5 (6.731, 0) -> (6.35, 0)
  line L6 (6.35, 0) -> (6.35, -9)
  line L7 (6.35, -9) -> (6.731, -9)
  line L8 (6.731, -9) -> (6.731, 0)
  line L9 (9.525, 0) -> (9.525, -9) projected
  line L10 (6.731, -9) -> (9.144, -9) projected
  line L11 (9.525, 0) -> (9.144, 0)
  line L12 (9.144, 0) -> (9.144, -9)
  line L13 (9.144, -9) -> (9.525, -9)
  line L14 (9.525, -9) -> (9.525, 0)
  line L15 (3.175, 0) -> (0, 0) projected
  line L16 (3.556, 0) -> (3.556, -9) projected
  line L17 (3.175, 0) -> (3.556, 0)
  line L18 (3.556, 0) -> (3.556, -9)
  line L19 (3.556, -9) -> (3.175, -9)
  line L20 (3.175, -9) -> (3.175, 0)
  point P0 (-4, -9)
extrude "Supports 2" add sketch "Sketch19" along normal up to surface (4.75 mm away)
ref_plane "Work Plane1" through (-30.1251, 9, -7.556) normal (1, 0, 0) x (0, 0, -1)
ref_plane "Work Plane2" through (-23.3752, 0, -4) normal (1, 0, 0) x (0, 0, -1)
ref_plane "Work Plane3" through (0, 4.5, 0) normal (0, 1, 0) x (1, 0, 0)
equation "\"d109\" = d107"
equation "\"d111\" = d100"
equation "\"d118\" = d117"
properties part number "Front fixed bottom coupler"
